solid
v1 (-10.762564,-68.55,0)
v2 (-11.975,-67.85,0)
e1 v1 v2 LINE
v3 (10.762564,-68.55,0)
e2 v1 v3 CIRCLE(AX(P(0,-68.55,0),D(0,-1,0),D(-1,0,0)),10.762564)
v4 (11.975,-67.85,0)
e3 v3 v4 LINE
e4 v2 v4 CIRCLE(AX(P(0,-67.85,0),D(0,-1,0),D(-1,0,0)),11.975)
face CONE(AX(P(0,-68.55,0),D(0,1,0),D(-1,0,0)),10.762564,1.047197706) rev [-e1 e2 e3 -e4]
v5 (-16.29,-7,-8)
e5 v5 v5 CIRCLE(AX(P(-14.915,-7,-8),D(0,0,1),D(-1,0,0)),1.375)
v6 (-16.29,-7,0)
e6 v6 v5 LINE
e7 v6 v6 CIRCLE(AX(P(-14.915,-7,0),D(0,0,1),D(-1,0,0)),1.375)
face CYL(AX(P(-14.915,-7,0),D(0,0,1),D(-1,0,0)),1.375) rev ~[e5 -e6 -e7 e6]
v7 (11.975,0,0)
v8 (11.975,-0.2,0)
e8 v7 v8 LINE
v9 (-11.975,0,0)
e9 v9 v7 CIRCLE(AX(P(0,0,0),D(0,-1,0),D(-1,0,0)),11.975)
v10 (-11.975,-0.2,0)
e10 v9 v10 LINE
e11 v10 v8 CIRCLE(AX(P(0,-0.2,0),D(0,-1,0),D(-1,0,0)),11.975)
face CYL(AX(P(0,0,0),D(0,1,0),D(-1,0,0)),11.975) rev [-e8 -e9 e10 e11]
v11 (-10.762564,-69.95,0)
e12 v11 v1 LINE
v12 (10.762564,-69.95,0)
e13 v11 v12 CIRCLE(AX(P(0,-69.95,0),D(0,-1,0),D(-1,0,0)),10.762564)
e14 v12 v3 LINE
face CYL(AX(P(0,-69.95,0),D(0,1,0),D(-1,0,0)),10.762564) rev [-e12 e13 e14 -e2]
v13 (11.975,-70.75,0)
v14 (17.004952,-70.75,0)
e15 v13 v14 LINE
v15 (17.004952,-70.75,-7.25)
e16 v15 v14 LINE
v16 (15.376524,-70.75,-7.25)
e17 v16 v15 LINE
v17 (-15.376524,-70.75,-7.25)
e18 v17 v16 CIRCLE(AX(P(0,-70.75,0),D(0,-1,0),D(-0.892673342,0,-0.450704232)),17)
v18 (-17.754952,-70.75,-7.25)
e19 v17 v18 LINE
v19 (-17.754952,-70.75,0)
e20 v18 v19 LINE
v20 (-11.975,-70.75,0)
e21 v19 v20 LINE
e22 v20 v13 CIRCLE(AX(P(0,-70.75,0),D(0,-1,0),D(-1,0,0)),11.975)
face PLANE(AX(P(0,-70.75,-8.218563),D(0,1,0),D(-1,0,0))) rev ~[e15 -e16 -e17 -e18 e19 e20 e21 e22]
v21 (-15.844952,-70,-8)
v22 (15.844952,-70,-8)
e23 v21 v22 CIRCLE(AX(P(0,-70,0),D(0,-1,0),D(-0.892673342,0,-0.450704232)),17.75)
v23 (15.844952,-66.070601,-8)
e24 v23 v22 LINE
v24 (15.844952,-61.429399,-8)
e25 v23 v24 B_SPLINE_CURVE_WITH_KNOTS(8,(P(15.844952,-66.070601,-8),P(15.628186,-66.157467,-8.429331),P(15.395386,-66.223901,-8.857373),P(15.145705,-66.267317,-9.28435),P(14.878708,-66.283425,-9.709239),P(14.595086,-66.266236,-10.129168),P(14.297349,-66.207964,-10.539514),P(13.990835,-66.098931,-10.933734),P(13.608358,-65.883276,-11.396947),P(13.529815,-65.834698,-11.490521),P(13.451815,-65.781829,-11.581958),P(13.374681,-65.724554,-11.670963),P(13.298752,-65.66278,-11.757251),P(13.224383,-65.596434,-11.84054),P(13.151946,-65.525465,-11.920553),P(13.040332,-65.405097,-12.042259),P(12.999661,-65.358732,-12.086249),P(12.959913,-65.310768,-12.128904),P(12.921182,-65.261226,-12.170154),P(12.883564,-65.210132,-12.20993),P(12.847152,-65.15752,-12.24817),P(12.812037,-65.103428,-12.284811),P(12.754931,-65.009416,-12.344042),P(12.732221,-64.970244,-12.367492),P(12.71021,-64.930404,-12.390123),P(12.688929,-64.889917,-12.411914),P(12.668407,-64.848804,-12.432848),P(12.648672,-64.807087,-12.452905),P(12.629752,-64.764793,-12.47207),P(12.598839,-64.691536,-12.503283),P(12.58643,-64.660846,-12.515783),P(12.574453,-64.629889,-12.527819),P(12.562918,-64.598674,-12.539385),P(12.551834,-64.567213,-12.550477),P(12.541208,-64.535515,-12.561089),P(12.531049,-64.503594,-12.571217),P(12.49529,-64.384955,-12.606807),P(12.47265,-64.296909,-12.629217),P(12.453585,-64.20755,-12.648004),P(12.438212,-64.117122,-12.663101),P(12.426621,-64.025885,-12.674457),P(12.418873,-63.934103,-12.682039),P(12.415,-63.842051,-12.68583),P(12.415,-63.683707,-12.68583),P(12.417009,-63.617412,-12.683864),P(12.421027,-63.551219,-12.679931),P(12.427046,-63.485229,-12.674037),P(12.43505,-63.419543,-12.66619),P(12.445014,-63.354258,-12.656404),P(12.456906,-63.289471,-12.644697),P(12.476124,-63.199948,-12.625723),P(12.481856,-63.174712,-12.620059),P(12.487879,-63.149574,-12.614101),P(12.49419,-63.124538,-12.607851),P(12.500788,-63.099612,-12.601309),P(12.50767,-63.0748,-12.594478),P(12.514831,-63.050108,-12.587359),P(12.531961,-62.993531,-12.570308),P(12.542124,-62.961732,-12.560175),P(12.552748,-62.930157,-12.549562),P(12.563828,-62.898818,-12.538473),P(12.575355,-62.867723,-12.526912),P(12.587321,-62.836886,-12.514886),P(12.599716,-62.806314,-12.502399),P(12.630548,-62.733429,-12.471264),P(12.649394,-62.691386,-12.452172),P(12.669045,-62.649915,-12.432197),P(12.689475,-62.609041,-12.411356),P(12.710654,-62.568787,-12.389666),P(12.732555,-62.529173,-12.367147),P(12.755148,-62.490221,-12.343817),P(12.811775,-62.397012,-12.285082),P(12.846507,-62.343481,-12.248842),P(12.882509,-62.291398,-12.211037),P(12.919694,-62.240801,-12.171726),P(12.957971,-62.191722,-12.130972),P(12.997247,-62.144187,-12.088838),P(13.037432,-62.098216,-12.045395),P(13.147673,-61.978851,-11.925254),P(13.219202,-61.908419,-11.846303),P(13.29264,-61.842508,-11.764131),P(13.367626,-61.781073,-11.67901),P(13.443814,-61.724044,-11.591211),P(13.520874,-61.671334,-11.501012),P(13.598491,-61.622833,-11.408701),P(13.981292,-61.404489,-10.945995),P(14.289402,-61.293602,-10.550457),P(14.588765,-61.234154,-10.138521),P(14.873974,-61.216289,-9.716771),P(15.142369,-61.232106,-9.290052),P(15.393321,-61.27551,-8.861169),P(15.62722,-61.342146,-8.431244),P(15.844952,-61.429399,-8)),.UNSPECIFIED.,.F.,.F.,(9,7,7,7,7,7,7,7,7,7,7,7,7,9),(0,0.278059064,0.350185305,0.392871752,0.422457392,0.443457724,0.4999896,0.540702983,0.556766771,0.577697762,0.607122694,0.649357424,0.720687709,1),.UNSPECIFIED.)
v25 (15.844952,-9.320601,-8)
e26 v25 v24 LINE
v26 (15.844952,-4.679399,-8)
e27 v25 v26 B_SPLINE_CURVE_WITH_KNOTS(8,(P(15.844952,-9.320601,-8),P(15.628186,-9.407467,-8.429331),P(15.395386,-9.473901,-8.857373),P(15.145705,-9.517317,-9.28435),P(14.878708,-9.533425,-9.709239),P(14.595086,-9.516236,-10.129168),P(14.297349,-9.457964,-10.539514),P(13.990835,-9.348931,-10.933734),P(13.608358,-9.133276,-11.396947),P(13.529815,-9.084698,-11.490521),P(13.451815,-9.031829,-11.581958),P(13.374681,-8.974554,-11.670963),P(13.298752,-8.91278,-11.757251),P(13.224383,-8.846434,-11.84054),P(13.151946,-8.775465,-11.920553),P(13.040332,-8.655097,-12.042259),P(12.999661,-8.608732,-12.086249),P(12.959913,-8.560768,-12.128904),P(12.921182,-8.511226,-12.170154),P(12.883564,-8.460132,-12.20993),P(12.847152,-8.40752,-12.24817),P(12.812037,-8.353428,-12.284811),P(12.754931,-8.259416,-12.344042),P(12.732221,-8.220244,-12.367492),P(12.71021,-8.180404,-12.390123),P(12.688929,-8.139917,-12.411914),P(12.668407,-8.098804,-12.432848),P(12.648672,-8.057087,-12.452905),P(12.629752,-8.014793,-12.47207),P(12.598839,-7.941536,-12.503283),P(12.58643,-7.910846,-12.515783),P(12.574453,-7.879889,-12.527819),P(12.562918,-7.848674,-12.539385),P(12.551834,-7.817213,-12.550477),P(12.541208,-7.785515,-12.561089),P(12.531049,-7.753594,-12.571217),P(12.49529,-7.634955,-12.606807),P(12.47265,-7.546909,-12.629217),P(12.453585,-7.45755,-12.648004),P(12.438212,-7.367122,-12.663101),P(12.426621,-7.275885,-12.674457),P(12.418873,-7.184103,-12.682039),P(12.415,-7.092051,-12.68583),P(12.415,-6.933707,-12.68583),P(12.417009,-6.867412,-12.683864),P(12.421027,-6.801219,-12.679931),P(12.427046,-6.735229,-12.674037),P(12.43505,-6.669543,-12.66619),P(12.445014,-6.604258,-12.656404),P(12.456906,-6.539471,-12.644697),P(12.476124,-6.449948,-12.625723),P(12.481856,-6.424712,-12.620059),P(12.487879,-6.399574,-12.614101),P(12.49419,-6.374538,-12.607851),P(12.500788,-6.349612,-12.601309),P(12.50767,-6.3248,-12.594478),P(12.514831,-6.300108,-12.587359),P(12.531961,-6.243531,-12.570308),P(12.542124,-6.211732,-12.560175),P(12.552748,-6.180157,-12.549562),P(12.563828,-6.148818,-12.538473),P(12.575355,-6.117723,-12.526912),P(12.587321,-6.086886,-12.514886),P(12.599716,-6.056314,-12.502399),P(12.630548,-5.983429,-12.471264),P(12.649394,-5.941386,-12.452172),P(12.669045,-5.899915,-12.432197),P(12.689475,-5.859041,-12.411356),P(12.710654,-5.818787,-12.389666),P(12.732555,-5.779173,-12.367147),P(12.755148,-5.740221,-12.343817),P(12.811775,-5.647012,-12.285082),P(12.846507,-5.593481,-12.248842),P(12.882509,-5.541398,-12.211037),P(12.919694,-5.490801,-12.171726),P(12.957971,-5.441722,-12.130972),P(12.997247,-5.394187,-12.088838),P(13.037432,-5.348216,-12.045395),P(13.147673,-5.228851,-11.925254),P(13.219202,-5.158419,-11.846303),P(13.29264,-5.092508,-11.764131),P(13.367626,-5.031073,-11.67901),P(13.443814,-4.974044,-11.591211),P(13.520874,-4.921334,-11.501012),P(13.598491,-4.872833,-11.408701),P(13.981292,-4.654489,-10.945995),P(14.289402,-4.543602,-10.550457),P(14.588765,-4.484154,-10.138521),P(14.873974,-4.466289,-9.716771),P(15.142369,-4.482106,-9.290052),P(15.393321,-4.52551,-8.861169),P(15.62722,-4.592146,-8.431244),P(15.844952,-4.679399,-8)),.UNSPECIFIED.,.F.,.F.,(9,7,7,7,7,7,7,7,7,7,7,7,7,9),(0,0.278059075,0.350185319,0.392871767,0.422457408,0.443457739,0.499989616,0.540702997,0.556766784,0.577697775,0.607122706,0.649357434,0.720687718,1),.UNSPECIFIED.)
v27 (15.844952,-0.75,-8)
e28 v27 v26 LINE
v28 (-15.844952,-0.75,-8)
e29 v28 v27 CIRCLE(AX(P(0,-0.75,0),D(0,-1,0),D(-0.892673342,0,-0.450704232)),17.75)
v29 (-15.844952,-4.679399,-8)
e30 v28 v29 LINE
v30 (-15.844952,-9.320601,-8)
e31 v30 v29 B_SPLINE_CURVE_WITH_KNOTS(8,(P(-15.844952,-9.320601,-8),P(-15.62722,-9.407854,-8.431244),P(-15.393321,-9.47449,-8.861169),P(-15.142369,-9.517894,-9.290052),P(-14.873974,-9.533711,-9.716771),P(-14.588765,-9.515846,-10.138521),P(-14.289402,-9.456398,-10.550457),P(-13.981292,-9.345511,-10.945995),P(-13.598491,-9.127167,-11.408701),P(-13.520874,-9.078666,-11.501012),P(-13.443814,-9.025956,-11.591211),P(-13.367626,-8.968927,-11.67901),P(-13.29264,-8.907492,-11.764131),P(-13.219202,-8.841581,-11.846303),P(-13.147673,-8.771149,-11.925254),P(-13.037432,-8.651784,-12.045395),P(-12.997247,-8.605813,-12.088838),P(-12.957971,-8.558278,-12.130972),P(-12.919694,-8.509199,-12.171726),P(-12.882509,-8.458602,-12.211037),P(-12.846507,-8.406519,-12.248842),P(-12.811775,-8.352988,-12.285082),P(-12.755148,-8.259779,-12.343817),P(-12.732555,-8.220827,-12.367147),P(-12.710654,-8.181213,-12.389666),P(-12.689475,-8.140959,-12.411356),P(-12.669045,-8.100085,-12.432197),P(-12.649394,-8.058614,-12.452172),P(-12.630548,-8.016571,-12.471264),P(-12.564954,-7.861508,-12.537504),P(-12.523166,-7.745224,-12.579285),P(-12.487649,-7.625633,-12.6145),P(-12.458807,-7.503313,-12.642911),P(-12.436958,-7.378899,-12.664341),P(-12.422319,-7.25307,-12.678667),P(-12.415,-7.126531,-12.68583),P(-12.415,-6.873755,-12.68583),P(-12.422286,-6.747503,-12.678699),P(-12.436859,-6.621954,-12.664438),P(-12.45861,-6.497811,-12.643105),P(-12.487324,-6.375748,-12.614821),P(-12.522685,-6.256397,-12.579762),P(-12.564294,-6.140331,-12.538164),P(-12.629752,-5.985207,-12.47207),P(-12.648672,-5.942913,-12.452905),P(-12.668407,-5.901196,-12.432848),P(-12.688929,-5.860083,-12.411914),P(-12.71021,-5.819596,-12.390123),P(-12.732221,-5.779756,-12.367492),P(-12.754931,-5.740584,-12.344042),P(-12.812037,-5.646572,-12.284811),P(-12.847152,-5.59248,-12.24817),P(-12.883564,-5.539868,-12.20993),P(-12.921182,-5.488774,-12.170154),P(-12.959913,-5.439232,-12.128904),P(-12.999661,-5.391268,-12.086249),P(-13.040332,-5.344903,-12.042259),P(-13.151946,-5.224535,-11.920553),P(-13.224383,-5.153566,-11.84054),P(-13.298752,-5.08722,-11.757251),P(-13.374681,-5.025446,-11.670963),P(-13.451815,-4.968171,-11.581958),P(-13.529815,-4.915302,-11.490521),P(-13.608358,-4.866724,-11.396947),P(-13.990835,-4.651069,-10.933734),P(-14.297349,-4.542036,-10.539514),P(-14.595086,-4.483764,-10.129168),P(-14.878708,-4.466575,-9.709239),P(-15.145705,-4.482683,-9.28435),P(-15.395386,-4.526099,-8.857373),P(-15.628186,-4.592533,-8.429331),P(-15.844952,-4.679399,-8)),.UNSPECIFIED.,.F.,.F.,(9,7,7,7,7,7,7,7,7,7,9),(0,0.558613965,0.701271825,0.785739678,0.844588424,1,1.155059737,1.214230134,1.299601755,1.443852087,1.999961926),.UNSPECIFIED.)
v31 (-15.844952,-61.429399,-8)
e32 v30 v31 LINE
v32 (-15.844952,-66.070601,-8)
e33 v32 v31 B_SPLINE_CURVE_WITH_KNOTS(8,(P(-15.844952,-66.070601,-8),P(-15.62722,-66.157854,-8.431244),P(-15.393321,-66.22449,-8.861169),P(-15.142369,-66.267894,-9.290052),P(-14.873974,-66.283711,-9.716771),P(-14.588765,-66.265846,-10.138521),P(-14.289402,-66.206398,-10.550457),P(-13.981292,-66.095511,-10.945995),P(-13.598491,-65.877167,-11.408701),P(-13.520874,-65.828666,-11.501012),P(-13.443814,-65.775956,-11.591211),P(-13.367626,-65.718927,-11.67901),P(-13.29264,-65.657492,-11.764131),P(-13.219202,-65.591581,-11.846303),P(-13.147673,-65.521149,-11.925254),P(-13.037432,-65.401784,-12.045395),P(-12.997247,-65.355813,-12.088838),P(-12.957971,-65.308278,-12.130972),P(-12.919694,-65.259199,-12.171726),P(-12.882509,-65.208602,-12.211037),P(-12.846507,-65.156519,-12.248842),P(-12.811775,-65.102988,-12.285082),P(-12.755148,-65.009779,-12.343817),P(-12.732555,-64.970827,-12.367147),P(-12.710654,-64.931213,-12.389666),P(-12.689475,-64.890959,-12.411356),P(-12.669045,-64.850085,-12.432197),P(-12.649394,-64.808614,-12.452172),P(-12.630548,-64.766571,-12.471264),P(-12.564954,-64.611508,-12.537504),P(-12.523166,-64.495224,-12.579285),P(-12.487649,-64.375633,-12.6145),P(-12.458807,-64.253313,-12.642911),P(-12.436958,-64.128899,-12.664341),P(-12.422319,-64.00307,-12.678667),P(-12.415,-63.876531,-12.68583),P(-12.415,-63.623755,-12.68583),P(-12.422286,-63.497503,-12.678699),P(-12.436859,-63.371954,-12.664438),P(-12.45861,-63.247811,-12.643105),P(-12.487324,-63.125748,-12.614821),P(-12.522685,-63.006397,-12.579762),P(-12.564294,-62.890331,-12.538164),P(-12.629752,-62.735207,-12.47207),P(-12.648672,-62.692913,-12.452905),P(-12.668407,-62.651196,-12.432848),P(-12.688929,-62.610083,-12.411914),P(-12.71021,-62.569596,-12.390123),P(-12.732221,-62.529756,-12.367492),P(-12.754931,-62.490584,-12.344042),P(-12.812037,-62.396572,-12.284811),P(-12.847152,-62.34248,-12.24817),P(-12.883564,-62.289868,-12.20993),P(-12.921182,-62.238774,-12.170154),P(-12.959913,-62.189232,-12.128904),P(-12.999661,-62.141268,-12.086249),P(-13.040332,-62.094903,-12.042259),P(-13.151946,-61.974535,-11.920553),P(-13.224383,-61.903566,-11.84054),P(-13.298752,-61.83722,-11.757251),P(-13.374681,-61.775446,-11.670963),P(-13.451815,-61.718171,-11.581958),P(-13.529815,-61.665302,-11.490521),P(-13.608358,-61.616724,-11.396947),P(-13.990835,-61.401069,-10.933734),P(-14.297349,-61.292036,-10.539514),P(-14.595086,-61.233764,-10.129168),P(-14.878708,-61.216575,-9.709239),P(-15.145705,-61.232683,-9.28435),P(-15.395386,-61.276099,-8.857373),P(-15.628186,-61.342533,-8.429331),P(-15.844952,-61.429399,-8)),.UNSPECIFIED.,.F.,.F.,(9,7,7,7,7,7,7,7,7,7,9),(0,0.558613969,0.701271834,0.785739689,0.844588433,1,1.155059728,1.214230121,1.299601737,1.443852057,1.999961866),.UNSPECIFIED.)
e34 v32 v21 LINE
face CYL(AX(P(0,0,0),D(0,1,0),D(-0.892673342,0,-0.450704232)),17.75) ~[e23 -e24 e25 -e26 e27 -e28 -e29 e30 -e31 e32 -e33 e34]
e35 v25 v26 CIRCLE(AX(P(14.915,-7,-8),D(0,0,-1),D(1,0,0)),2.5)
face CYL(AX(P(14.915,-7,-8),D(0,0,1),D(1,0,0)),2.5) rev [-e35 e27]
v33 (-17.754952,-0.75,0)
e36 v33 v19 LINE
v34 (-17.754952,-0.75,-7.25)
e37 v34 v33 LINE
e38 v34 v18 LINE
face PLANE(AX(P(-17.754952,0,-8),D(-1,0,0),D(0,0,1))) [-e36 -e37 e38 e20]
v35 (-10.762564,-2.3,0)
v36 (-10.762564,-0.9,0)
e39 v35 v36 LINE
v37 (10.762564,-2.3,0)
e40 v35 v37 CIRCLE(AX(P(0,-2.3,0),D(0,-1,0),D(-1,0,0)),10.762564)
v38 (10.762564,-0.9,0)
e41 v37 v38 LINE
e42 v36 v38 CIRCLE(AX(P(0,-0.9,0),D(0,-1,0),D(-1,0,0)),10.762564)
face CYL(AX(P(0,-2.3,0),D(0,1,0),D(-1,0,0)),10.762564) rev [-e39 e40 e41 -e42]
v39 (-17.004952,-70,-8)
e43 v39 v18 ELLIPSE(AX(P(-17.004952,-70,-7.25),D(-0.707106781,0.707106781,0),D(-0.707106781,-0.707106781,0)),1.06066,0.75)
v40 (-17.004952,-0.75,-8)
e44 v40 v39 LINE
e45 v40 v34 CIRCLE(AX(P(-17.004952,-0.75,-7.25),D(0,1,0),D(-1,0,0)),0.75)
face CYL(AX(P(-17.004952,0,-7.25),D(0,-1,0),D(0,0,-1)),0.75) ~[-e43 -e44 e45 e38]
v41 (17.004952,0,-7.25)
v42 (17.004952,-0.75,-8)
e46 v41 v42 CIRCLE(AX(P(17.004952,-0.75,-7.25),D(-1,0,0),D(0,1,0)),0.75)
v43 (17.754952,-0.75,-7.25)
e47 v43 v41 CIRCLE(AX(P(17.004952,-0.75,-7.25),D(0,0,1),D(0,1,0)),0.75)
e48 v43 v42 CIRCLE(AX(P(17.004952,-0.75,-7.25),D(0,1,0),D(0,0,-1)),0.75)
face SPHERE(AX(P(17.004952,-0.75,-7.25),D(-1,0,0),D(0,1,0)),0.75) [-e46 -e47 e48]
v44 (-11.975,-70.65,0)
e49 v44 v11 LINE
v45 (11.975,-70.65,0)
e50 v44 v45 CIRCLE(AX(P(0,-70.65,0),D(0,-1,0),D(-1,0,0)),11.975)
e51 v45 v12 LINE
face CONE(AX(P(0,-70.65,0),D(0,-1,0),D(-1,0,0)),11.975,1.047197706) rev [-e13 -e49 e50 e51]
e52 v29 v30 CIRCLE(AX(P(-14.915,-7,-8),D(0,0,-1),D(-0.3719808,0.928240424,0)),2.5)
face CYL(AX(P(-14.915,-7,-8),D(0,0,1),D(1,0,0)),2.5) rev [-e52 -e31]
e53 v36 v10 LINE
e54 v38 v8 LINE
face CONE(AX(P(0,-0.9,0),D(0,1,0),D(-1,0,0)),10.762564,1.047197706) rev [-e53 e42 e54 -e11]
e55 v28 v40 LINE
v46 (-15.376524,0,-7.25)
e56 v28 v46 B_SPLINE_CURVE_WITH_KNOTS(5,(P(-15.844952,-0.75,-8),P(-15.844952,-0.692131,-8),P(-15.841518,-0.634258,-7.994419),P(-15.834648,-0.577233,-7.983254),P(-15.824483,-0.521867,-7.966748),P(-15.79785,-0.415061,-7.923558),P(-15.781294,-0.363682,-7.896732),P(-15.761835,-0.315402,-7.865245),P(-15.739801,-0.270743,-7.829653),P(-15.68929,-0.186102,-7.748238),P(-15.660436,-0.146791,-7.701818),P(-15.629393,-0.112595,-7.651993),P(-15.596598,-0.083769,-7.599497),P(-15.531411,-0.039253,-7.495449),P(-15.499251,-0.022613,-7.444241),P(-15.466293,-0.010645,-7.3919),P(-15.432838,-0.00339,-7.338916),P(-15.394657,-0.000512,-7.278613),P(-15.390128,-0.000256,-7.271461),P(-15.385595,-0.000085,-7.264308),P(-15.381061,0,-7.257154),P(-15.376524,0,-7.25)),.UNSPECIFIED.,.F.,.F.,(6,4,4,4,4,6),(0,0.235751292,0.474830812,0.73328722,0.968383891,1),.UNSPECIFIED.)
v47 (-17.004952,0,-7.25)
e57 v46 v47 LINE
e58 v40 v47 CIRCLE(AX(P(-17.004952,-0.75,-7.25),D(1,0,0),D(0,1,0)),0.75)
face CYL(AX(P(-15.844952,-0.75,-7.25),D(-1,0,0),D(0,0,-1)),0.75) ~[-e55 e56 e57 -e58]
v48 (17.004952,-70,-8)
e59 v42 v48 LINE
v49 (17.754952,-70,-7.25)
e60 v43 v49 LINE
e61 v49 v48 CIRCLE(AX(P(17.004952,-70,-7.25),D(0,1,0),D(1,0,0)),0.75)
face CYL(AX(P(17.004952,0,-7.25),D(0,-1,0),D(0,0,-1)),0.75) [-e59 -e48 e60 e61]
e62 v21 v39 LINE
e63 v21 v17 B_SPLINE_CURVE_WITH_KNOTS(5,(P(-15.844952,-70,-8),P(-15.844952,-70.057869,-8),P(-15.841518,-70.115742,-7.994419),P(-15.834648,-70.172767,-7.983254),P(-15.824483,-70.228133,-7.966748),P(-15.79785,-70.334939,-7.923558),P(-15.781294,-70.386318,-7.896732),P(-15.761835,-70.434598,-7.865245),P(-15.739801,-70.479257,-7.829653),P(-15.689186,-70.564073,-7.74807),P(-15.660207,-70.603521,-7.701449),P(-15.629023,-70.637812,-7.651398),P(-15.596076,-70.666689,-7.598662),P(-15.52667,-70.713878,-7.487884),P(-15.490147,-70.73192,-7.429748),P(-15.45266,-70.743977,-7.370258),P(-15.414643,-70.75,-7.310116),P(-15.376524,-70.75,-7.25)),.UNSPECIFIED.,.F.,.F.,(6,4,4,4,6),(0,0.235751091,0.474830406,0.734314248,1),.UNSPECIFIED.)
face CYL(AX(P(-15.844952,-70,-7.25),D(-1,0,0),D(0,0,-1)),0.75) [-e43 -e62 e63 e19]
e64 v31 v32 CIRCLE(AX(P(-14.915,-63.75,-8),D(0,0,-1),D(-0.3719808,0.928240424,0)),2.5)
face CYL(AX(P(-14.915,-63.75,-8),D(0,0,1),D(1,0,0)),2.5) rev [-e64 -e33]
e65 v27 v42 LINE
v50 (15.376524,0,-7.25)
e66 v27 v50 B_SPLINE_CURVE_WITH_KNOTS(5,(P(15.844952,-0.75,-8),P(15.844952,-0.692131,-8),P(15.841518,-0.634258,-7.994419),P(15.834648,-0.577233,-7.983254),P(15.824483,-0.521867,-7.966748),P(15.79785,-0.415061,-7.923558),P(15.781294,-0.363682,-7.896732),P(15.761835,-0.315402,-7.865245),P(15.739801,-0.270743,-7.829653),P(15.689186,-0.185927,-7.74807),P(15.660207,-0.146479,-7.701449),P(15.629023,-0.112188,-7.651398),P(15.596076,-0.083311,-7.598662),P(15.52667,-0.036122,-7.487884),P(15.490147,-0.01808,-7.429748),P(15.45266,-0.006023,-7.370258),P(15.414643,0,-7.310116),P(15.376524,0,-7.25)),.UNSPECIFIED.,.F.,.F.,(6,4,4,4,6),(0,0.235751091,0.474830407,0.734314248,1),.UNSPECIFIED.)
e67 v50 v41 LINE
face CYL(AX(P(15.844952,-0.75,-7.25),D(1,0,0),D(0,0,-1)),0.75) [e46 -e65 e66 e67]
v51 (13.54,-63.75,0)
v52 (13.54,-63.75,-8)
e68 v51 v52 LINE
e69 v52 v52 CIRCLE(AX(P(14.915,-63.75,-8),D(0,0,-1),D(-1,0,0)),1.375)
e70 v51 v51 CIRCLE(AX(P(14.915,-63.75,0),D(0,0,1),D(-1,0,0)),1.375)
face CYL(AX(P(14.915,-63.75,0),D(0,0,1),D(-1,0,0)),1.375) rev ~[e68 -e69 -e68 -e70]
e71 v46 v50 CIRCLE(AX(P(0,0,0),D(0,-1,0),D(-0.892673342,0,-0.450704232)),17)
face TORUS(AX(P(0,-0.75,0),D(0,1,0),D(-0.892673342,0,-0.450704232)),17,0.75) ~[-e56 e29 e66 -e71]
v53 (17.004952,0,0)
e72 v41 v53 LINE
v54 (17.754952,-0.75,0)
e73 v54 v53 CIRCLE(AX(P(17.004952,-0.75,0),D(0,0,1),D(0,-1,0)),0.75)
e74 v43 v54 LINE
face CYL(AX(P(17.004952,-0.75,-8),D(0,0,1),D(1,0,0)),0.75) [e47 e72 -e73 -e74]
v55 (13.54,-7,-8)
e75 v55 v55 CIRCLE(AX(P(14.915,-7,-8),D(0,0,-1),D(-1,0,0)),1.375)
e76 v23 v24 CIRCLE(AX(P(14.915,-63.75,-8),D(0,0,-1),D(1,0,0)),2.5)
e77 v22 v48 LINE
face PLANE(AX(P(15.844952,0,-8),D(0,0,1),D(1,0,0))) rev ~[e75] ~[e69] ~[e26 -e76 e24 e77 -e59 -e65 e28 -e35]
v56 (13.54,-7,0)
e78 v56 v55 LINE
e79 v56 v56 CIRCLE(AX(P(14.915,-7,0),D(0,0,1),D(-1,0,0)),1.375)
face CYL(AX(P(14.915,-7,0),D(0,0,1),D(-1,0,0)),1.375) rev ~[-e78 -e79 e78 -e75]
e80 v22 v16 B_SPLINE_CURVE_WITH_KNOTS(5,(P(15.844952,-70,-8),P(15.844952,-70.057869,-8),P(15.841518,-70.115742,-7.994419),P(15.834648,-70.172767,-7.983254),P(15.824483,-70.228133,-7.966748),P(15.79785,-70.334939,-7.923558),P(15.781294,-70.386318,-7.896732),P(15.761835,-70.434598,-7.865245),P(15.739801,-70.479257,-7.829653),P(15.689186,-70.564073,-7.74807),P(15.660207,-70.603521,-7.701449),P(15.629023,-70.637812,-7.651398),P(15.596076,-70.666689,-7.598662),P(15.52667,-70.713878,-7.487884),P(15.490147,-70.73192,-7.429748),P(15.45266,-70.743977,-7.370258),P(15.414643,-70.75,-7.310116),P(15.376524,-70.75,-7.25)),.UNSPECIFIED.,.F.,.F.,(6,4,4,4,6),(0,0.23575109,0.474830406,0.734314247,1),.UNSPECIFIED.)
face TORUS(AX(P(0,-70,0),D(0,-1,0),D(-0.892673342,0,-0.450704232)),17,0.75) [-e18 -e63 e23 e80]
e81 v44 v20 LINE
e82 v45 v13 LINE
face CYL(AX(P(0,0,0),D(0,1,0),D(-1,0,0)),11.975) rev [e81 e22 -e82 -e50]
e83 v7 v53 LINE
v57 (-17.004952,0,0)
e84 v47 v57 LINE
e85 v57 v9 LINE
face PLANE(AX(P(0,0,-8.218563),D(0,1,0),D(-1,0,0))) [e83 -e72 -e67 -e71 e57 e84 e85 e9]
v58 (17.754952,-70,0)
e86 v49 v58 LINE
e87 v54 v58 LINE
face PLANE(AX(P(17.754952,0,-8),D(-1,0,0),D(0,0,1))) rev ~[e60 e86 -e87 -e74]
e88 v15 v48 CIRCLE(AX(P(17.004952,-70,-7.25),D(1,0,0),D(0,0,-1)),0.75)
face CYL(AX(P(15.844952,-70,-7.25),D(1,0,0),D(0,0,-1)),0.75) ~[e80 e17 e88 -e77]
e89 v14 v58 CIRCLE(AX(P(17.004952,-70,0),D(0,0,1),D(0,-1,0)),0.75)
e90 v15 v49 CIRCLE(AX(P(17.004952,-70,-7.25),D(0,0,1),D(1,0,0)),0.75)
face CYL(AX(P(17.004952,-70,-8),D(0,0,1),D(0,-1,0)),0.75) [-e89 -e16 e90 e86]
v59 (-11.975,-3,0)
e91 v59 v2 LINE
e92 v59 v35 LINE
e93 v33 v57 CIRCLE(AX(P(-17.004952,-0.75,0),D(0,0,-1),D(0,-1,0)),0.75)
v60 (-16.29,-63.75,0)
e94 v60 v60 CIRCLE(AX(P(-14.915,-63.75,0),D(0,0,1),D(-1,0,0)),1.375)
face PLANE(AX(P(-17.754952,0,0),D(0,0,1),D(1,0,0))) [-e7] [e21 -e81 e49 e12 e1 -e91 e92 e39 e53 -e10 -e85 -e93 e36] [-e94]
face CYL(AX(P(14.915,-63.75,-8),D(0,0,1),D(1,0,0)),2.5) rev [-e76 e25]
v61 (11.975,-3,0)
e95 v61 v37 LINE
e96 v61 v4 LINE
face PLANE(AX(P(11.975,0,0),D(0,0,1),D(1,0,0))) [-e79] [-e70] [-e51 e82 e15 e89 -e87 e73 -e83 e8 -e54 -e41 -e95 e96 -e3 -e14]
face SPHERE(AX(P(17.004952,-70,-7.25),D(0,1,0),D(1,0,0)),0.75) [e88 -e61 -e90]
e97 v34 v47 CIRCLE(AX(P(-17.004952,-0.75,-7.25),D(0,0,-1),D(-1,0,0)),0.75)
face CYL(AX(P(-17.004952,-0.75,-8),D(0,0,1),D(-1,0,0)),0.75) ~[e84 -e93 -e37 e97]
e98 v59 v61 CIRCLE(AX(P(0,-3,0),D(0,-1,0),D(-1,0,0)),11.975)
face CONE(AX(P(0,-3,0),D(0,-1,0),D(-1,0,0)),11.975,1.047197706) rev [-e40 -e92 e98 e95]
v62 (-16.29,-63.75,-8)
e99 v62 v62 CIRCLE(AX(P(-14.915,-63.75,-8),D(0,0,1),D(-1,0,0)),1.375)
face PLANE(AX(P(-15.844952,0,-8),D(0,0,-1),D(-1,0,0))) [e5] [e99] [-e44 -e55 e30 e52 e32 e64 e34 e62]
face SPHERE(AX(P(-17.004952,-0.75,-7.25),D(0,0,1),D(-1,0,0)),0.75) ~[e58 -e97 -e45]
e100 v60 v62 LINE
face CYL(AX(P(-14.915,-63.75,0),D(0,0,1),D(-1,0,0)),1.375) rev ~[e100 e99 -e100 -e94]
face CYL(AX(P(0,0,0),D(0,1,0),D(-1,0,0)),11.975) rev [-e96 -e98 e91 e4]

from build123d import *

# Parameters (mm, degrees)
PAD015_DEPTH        = 70.75
REVOLUTION002_ANGLE = 180
SKETCH027_R         = 1.375
POCKET008_DEPTH     = 17.751
SKETCH028_R         = 2.5
POCKET009_DEPTH     = 9.751
FILLET001_R         = 0.75


with BuildPart() as part:
    # Sketch025 → Pad015 (new body)
    with BuildSketch(Plane.XZ):
        with BuildLine():
            ThreePointArc((-11.975, 0), (0, -11.975), (11.975, 0))
            Line((11.975, 0), (17.754952, 0))
            Line((17.754952, -8), (17.754952, 0))
            Line((15.844952, -8), (17.754952, -8))
            ThreePointArc((-15.844952, -8), (0, -17.75), (15.844952, -8))
            Line((-15.844952, -8), (-17.754952, -8))
            Line((-17.754952, -8), (-17.754952, 0))
            Line((-17.754952, 0), (-11.975, 0))
        make_face()
    extrude(amount=PAD015_DEPTH)

    # Sketch026 (on Face3 of Pad015) → Revolution002 (revolve)
    with BuildSketch(Plane(origin=(0, 0, 0), x_dir=(-1, 0, 0), z_dir=(0, 0, 1))):
        Polygon((13.187436, 69.95), (11.975, 70.65), (10.762564, 69.95), (10.762564, 68.55), (11.975, 67.85), (13.187436, 68.55), align=None)
        Polygon((13.187436, 2.3), (11.975, 3), (10.762564, 2.3), (10.762564, 0.9), (11.975, 0.2), (13.187436, 0.9), align=None)
    revolve(axis=Axis((0, 0, 0), (0, -1, 0)), revolution_arc=REVOLUTION002_ANGLE)

    # Sketch027 (on Face18 of Revolution002) → Pocket008 (cut, through all)
    with BuildSketch(Plane(origin=(0, 0, 0), x_dir=(-1, 0, 0), z_dir=(0, 0, 1))):
        with Locations((-14.915, 63.75)):
            Circle(SKETCH027_R)
        with Locations((14.915, 63.75)):
            Circle(SKETCH027_R)
        with Locations((14.915, 7)):
            Circle(SKETCH027_R)
        with Locations((-14.915, 7)):
            Circle(SKETCH027_R)
    extrude(amount=-POCKET008_DEPTH, mode=Mode.SUBTRACT)

    # Sketch028 (on Face20 of Pocket008) → Pocket009 (cut, through all)
    with BuildSketch(Plane(origin=(0, 0, -8), x_dir=(1, 0, 0), z_dir=(0, 0, -1))):
        with Locations((-14.915, 63.75)):
            Circle(SKETCH028_R)
        with Locations((14.915, 63.75)):
            Circle(SKETCH028_R)
        with Locations((14.915, 7)):
            Circle(SKETCH028_R)
        with Locations((-14.915, 7)):
            Circle(SKETCH028_R)
    extrude(amount=POCKET009_DEPTH, mode=Mode.SUBTRACT)

    # Fillet001
    fillet001_edges = [part.edges().sort_by_distance(p)[0] for p in [
        (-17.754952, 0, -4),
        (-17.754952, -35.375, -8),
        (-16.799952, 0, -8),
        (0, 0, -17.75),
        (16.799952, 0, -8),
        (17.754952, 0, -4),
        (17.754952, -35.375, -8),
        (17.754952, -70.75, -4),
        (16.799952, -70.75, -8),
        (0, -70.75, -17.75),
        (-16.799952, -70.75, -8),
    ]]
    fillet(fillet001_edges, radius=FILLET001_R)


solid = part.part
